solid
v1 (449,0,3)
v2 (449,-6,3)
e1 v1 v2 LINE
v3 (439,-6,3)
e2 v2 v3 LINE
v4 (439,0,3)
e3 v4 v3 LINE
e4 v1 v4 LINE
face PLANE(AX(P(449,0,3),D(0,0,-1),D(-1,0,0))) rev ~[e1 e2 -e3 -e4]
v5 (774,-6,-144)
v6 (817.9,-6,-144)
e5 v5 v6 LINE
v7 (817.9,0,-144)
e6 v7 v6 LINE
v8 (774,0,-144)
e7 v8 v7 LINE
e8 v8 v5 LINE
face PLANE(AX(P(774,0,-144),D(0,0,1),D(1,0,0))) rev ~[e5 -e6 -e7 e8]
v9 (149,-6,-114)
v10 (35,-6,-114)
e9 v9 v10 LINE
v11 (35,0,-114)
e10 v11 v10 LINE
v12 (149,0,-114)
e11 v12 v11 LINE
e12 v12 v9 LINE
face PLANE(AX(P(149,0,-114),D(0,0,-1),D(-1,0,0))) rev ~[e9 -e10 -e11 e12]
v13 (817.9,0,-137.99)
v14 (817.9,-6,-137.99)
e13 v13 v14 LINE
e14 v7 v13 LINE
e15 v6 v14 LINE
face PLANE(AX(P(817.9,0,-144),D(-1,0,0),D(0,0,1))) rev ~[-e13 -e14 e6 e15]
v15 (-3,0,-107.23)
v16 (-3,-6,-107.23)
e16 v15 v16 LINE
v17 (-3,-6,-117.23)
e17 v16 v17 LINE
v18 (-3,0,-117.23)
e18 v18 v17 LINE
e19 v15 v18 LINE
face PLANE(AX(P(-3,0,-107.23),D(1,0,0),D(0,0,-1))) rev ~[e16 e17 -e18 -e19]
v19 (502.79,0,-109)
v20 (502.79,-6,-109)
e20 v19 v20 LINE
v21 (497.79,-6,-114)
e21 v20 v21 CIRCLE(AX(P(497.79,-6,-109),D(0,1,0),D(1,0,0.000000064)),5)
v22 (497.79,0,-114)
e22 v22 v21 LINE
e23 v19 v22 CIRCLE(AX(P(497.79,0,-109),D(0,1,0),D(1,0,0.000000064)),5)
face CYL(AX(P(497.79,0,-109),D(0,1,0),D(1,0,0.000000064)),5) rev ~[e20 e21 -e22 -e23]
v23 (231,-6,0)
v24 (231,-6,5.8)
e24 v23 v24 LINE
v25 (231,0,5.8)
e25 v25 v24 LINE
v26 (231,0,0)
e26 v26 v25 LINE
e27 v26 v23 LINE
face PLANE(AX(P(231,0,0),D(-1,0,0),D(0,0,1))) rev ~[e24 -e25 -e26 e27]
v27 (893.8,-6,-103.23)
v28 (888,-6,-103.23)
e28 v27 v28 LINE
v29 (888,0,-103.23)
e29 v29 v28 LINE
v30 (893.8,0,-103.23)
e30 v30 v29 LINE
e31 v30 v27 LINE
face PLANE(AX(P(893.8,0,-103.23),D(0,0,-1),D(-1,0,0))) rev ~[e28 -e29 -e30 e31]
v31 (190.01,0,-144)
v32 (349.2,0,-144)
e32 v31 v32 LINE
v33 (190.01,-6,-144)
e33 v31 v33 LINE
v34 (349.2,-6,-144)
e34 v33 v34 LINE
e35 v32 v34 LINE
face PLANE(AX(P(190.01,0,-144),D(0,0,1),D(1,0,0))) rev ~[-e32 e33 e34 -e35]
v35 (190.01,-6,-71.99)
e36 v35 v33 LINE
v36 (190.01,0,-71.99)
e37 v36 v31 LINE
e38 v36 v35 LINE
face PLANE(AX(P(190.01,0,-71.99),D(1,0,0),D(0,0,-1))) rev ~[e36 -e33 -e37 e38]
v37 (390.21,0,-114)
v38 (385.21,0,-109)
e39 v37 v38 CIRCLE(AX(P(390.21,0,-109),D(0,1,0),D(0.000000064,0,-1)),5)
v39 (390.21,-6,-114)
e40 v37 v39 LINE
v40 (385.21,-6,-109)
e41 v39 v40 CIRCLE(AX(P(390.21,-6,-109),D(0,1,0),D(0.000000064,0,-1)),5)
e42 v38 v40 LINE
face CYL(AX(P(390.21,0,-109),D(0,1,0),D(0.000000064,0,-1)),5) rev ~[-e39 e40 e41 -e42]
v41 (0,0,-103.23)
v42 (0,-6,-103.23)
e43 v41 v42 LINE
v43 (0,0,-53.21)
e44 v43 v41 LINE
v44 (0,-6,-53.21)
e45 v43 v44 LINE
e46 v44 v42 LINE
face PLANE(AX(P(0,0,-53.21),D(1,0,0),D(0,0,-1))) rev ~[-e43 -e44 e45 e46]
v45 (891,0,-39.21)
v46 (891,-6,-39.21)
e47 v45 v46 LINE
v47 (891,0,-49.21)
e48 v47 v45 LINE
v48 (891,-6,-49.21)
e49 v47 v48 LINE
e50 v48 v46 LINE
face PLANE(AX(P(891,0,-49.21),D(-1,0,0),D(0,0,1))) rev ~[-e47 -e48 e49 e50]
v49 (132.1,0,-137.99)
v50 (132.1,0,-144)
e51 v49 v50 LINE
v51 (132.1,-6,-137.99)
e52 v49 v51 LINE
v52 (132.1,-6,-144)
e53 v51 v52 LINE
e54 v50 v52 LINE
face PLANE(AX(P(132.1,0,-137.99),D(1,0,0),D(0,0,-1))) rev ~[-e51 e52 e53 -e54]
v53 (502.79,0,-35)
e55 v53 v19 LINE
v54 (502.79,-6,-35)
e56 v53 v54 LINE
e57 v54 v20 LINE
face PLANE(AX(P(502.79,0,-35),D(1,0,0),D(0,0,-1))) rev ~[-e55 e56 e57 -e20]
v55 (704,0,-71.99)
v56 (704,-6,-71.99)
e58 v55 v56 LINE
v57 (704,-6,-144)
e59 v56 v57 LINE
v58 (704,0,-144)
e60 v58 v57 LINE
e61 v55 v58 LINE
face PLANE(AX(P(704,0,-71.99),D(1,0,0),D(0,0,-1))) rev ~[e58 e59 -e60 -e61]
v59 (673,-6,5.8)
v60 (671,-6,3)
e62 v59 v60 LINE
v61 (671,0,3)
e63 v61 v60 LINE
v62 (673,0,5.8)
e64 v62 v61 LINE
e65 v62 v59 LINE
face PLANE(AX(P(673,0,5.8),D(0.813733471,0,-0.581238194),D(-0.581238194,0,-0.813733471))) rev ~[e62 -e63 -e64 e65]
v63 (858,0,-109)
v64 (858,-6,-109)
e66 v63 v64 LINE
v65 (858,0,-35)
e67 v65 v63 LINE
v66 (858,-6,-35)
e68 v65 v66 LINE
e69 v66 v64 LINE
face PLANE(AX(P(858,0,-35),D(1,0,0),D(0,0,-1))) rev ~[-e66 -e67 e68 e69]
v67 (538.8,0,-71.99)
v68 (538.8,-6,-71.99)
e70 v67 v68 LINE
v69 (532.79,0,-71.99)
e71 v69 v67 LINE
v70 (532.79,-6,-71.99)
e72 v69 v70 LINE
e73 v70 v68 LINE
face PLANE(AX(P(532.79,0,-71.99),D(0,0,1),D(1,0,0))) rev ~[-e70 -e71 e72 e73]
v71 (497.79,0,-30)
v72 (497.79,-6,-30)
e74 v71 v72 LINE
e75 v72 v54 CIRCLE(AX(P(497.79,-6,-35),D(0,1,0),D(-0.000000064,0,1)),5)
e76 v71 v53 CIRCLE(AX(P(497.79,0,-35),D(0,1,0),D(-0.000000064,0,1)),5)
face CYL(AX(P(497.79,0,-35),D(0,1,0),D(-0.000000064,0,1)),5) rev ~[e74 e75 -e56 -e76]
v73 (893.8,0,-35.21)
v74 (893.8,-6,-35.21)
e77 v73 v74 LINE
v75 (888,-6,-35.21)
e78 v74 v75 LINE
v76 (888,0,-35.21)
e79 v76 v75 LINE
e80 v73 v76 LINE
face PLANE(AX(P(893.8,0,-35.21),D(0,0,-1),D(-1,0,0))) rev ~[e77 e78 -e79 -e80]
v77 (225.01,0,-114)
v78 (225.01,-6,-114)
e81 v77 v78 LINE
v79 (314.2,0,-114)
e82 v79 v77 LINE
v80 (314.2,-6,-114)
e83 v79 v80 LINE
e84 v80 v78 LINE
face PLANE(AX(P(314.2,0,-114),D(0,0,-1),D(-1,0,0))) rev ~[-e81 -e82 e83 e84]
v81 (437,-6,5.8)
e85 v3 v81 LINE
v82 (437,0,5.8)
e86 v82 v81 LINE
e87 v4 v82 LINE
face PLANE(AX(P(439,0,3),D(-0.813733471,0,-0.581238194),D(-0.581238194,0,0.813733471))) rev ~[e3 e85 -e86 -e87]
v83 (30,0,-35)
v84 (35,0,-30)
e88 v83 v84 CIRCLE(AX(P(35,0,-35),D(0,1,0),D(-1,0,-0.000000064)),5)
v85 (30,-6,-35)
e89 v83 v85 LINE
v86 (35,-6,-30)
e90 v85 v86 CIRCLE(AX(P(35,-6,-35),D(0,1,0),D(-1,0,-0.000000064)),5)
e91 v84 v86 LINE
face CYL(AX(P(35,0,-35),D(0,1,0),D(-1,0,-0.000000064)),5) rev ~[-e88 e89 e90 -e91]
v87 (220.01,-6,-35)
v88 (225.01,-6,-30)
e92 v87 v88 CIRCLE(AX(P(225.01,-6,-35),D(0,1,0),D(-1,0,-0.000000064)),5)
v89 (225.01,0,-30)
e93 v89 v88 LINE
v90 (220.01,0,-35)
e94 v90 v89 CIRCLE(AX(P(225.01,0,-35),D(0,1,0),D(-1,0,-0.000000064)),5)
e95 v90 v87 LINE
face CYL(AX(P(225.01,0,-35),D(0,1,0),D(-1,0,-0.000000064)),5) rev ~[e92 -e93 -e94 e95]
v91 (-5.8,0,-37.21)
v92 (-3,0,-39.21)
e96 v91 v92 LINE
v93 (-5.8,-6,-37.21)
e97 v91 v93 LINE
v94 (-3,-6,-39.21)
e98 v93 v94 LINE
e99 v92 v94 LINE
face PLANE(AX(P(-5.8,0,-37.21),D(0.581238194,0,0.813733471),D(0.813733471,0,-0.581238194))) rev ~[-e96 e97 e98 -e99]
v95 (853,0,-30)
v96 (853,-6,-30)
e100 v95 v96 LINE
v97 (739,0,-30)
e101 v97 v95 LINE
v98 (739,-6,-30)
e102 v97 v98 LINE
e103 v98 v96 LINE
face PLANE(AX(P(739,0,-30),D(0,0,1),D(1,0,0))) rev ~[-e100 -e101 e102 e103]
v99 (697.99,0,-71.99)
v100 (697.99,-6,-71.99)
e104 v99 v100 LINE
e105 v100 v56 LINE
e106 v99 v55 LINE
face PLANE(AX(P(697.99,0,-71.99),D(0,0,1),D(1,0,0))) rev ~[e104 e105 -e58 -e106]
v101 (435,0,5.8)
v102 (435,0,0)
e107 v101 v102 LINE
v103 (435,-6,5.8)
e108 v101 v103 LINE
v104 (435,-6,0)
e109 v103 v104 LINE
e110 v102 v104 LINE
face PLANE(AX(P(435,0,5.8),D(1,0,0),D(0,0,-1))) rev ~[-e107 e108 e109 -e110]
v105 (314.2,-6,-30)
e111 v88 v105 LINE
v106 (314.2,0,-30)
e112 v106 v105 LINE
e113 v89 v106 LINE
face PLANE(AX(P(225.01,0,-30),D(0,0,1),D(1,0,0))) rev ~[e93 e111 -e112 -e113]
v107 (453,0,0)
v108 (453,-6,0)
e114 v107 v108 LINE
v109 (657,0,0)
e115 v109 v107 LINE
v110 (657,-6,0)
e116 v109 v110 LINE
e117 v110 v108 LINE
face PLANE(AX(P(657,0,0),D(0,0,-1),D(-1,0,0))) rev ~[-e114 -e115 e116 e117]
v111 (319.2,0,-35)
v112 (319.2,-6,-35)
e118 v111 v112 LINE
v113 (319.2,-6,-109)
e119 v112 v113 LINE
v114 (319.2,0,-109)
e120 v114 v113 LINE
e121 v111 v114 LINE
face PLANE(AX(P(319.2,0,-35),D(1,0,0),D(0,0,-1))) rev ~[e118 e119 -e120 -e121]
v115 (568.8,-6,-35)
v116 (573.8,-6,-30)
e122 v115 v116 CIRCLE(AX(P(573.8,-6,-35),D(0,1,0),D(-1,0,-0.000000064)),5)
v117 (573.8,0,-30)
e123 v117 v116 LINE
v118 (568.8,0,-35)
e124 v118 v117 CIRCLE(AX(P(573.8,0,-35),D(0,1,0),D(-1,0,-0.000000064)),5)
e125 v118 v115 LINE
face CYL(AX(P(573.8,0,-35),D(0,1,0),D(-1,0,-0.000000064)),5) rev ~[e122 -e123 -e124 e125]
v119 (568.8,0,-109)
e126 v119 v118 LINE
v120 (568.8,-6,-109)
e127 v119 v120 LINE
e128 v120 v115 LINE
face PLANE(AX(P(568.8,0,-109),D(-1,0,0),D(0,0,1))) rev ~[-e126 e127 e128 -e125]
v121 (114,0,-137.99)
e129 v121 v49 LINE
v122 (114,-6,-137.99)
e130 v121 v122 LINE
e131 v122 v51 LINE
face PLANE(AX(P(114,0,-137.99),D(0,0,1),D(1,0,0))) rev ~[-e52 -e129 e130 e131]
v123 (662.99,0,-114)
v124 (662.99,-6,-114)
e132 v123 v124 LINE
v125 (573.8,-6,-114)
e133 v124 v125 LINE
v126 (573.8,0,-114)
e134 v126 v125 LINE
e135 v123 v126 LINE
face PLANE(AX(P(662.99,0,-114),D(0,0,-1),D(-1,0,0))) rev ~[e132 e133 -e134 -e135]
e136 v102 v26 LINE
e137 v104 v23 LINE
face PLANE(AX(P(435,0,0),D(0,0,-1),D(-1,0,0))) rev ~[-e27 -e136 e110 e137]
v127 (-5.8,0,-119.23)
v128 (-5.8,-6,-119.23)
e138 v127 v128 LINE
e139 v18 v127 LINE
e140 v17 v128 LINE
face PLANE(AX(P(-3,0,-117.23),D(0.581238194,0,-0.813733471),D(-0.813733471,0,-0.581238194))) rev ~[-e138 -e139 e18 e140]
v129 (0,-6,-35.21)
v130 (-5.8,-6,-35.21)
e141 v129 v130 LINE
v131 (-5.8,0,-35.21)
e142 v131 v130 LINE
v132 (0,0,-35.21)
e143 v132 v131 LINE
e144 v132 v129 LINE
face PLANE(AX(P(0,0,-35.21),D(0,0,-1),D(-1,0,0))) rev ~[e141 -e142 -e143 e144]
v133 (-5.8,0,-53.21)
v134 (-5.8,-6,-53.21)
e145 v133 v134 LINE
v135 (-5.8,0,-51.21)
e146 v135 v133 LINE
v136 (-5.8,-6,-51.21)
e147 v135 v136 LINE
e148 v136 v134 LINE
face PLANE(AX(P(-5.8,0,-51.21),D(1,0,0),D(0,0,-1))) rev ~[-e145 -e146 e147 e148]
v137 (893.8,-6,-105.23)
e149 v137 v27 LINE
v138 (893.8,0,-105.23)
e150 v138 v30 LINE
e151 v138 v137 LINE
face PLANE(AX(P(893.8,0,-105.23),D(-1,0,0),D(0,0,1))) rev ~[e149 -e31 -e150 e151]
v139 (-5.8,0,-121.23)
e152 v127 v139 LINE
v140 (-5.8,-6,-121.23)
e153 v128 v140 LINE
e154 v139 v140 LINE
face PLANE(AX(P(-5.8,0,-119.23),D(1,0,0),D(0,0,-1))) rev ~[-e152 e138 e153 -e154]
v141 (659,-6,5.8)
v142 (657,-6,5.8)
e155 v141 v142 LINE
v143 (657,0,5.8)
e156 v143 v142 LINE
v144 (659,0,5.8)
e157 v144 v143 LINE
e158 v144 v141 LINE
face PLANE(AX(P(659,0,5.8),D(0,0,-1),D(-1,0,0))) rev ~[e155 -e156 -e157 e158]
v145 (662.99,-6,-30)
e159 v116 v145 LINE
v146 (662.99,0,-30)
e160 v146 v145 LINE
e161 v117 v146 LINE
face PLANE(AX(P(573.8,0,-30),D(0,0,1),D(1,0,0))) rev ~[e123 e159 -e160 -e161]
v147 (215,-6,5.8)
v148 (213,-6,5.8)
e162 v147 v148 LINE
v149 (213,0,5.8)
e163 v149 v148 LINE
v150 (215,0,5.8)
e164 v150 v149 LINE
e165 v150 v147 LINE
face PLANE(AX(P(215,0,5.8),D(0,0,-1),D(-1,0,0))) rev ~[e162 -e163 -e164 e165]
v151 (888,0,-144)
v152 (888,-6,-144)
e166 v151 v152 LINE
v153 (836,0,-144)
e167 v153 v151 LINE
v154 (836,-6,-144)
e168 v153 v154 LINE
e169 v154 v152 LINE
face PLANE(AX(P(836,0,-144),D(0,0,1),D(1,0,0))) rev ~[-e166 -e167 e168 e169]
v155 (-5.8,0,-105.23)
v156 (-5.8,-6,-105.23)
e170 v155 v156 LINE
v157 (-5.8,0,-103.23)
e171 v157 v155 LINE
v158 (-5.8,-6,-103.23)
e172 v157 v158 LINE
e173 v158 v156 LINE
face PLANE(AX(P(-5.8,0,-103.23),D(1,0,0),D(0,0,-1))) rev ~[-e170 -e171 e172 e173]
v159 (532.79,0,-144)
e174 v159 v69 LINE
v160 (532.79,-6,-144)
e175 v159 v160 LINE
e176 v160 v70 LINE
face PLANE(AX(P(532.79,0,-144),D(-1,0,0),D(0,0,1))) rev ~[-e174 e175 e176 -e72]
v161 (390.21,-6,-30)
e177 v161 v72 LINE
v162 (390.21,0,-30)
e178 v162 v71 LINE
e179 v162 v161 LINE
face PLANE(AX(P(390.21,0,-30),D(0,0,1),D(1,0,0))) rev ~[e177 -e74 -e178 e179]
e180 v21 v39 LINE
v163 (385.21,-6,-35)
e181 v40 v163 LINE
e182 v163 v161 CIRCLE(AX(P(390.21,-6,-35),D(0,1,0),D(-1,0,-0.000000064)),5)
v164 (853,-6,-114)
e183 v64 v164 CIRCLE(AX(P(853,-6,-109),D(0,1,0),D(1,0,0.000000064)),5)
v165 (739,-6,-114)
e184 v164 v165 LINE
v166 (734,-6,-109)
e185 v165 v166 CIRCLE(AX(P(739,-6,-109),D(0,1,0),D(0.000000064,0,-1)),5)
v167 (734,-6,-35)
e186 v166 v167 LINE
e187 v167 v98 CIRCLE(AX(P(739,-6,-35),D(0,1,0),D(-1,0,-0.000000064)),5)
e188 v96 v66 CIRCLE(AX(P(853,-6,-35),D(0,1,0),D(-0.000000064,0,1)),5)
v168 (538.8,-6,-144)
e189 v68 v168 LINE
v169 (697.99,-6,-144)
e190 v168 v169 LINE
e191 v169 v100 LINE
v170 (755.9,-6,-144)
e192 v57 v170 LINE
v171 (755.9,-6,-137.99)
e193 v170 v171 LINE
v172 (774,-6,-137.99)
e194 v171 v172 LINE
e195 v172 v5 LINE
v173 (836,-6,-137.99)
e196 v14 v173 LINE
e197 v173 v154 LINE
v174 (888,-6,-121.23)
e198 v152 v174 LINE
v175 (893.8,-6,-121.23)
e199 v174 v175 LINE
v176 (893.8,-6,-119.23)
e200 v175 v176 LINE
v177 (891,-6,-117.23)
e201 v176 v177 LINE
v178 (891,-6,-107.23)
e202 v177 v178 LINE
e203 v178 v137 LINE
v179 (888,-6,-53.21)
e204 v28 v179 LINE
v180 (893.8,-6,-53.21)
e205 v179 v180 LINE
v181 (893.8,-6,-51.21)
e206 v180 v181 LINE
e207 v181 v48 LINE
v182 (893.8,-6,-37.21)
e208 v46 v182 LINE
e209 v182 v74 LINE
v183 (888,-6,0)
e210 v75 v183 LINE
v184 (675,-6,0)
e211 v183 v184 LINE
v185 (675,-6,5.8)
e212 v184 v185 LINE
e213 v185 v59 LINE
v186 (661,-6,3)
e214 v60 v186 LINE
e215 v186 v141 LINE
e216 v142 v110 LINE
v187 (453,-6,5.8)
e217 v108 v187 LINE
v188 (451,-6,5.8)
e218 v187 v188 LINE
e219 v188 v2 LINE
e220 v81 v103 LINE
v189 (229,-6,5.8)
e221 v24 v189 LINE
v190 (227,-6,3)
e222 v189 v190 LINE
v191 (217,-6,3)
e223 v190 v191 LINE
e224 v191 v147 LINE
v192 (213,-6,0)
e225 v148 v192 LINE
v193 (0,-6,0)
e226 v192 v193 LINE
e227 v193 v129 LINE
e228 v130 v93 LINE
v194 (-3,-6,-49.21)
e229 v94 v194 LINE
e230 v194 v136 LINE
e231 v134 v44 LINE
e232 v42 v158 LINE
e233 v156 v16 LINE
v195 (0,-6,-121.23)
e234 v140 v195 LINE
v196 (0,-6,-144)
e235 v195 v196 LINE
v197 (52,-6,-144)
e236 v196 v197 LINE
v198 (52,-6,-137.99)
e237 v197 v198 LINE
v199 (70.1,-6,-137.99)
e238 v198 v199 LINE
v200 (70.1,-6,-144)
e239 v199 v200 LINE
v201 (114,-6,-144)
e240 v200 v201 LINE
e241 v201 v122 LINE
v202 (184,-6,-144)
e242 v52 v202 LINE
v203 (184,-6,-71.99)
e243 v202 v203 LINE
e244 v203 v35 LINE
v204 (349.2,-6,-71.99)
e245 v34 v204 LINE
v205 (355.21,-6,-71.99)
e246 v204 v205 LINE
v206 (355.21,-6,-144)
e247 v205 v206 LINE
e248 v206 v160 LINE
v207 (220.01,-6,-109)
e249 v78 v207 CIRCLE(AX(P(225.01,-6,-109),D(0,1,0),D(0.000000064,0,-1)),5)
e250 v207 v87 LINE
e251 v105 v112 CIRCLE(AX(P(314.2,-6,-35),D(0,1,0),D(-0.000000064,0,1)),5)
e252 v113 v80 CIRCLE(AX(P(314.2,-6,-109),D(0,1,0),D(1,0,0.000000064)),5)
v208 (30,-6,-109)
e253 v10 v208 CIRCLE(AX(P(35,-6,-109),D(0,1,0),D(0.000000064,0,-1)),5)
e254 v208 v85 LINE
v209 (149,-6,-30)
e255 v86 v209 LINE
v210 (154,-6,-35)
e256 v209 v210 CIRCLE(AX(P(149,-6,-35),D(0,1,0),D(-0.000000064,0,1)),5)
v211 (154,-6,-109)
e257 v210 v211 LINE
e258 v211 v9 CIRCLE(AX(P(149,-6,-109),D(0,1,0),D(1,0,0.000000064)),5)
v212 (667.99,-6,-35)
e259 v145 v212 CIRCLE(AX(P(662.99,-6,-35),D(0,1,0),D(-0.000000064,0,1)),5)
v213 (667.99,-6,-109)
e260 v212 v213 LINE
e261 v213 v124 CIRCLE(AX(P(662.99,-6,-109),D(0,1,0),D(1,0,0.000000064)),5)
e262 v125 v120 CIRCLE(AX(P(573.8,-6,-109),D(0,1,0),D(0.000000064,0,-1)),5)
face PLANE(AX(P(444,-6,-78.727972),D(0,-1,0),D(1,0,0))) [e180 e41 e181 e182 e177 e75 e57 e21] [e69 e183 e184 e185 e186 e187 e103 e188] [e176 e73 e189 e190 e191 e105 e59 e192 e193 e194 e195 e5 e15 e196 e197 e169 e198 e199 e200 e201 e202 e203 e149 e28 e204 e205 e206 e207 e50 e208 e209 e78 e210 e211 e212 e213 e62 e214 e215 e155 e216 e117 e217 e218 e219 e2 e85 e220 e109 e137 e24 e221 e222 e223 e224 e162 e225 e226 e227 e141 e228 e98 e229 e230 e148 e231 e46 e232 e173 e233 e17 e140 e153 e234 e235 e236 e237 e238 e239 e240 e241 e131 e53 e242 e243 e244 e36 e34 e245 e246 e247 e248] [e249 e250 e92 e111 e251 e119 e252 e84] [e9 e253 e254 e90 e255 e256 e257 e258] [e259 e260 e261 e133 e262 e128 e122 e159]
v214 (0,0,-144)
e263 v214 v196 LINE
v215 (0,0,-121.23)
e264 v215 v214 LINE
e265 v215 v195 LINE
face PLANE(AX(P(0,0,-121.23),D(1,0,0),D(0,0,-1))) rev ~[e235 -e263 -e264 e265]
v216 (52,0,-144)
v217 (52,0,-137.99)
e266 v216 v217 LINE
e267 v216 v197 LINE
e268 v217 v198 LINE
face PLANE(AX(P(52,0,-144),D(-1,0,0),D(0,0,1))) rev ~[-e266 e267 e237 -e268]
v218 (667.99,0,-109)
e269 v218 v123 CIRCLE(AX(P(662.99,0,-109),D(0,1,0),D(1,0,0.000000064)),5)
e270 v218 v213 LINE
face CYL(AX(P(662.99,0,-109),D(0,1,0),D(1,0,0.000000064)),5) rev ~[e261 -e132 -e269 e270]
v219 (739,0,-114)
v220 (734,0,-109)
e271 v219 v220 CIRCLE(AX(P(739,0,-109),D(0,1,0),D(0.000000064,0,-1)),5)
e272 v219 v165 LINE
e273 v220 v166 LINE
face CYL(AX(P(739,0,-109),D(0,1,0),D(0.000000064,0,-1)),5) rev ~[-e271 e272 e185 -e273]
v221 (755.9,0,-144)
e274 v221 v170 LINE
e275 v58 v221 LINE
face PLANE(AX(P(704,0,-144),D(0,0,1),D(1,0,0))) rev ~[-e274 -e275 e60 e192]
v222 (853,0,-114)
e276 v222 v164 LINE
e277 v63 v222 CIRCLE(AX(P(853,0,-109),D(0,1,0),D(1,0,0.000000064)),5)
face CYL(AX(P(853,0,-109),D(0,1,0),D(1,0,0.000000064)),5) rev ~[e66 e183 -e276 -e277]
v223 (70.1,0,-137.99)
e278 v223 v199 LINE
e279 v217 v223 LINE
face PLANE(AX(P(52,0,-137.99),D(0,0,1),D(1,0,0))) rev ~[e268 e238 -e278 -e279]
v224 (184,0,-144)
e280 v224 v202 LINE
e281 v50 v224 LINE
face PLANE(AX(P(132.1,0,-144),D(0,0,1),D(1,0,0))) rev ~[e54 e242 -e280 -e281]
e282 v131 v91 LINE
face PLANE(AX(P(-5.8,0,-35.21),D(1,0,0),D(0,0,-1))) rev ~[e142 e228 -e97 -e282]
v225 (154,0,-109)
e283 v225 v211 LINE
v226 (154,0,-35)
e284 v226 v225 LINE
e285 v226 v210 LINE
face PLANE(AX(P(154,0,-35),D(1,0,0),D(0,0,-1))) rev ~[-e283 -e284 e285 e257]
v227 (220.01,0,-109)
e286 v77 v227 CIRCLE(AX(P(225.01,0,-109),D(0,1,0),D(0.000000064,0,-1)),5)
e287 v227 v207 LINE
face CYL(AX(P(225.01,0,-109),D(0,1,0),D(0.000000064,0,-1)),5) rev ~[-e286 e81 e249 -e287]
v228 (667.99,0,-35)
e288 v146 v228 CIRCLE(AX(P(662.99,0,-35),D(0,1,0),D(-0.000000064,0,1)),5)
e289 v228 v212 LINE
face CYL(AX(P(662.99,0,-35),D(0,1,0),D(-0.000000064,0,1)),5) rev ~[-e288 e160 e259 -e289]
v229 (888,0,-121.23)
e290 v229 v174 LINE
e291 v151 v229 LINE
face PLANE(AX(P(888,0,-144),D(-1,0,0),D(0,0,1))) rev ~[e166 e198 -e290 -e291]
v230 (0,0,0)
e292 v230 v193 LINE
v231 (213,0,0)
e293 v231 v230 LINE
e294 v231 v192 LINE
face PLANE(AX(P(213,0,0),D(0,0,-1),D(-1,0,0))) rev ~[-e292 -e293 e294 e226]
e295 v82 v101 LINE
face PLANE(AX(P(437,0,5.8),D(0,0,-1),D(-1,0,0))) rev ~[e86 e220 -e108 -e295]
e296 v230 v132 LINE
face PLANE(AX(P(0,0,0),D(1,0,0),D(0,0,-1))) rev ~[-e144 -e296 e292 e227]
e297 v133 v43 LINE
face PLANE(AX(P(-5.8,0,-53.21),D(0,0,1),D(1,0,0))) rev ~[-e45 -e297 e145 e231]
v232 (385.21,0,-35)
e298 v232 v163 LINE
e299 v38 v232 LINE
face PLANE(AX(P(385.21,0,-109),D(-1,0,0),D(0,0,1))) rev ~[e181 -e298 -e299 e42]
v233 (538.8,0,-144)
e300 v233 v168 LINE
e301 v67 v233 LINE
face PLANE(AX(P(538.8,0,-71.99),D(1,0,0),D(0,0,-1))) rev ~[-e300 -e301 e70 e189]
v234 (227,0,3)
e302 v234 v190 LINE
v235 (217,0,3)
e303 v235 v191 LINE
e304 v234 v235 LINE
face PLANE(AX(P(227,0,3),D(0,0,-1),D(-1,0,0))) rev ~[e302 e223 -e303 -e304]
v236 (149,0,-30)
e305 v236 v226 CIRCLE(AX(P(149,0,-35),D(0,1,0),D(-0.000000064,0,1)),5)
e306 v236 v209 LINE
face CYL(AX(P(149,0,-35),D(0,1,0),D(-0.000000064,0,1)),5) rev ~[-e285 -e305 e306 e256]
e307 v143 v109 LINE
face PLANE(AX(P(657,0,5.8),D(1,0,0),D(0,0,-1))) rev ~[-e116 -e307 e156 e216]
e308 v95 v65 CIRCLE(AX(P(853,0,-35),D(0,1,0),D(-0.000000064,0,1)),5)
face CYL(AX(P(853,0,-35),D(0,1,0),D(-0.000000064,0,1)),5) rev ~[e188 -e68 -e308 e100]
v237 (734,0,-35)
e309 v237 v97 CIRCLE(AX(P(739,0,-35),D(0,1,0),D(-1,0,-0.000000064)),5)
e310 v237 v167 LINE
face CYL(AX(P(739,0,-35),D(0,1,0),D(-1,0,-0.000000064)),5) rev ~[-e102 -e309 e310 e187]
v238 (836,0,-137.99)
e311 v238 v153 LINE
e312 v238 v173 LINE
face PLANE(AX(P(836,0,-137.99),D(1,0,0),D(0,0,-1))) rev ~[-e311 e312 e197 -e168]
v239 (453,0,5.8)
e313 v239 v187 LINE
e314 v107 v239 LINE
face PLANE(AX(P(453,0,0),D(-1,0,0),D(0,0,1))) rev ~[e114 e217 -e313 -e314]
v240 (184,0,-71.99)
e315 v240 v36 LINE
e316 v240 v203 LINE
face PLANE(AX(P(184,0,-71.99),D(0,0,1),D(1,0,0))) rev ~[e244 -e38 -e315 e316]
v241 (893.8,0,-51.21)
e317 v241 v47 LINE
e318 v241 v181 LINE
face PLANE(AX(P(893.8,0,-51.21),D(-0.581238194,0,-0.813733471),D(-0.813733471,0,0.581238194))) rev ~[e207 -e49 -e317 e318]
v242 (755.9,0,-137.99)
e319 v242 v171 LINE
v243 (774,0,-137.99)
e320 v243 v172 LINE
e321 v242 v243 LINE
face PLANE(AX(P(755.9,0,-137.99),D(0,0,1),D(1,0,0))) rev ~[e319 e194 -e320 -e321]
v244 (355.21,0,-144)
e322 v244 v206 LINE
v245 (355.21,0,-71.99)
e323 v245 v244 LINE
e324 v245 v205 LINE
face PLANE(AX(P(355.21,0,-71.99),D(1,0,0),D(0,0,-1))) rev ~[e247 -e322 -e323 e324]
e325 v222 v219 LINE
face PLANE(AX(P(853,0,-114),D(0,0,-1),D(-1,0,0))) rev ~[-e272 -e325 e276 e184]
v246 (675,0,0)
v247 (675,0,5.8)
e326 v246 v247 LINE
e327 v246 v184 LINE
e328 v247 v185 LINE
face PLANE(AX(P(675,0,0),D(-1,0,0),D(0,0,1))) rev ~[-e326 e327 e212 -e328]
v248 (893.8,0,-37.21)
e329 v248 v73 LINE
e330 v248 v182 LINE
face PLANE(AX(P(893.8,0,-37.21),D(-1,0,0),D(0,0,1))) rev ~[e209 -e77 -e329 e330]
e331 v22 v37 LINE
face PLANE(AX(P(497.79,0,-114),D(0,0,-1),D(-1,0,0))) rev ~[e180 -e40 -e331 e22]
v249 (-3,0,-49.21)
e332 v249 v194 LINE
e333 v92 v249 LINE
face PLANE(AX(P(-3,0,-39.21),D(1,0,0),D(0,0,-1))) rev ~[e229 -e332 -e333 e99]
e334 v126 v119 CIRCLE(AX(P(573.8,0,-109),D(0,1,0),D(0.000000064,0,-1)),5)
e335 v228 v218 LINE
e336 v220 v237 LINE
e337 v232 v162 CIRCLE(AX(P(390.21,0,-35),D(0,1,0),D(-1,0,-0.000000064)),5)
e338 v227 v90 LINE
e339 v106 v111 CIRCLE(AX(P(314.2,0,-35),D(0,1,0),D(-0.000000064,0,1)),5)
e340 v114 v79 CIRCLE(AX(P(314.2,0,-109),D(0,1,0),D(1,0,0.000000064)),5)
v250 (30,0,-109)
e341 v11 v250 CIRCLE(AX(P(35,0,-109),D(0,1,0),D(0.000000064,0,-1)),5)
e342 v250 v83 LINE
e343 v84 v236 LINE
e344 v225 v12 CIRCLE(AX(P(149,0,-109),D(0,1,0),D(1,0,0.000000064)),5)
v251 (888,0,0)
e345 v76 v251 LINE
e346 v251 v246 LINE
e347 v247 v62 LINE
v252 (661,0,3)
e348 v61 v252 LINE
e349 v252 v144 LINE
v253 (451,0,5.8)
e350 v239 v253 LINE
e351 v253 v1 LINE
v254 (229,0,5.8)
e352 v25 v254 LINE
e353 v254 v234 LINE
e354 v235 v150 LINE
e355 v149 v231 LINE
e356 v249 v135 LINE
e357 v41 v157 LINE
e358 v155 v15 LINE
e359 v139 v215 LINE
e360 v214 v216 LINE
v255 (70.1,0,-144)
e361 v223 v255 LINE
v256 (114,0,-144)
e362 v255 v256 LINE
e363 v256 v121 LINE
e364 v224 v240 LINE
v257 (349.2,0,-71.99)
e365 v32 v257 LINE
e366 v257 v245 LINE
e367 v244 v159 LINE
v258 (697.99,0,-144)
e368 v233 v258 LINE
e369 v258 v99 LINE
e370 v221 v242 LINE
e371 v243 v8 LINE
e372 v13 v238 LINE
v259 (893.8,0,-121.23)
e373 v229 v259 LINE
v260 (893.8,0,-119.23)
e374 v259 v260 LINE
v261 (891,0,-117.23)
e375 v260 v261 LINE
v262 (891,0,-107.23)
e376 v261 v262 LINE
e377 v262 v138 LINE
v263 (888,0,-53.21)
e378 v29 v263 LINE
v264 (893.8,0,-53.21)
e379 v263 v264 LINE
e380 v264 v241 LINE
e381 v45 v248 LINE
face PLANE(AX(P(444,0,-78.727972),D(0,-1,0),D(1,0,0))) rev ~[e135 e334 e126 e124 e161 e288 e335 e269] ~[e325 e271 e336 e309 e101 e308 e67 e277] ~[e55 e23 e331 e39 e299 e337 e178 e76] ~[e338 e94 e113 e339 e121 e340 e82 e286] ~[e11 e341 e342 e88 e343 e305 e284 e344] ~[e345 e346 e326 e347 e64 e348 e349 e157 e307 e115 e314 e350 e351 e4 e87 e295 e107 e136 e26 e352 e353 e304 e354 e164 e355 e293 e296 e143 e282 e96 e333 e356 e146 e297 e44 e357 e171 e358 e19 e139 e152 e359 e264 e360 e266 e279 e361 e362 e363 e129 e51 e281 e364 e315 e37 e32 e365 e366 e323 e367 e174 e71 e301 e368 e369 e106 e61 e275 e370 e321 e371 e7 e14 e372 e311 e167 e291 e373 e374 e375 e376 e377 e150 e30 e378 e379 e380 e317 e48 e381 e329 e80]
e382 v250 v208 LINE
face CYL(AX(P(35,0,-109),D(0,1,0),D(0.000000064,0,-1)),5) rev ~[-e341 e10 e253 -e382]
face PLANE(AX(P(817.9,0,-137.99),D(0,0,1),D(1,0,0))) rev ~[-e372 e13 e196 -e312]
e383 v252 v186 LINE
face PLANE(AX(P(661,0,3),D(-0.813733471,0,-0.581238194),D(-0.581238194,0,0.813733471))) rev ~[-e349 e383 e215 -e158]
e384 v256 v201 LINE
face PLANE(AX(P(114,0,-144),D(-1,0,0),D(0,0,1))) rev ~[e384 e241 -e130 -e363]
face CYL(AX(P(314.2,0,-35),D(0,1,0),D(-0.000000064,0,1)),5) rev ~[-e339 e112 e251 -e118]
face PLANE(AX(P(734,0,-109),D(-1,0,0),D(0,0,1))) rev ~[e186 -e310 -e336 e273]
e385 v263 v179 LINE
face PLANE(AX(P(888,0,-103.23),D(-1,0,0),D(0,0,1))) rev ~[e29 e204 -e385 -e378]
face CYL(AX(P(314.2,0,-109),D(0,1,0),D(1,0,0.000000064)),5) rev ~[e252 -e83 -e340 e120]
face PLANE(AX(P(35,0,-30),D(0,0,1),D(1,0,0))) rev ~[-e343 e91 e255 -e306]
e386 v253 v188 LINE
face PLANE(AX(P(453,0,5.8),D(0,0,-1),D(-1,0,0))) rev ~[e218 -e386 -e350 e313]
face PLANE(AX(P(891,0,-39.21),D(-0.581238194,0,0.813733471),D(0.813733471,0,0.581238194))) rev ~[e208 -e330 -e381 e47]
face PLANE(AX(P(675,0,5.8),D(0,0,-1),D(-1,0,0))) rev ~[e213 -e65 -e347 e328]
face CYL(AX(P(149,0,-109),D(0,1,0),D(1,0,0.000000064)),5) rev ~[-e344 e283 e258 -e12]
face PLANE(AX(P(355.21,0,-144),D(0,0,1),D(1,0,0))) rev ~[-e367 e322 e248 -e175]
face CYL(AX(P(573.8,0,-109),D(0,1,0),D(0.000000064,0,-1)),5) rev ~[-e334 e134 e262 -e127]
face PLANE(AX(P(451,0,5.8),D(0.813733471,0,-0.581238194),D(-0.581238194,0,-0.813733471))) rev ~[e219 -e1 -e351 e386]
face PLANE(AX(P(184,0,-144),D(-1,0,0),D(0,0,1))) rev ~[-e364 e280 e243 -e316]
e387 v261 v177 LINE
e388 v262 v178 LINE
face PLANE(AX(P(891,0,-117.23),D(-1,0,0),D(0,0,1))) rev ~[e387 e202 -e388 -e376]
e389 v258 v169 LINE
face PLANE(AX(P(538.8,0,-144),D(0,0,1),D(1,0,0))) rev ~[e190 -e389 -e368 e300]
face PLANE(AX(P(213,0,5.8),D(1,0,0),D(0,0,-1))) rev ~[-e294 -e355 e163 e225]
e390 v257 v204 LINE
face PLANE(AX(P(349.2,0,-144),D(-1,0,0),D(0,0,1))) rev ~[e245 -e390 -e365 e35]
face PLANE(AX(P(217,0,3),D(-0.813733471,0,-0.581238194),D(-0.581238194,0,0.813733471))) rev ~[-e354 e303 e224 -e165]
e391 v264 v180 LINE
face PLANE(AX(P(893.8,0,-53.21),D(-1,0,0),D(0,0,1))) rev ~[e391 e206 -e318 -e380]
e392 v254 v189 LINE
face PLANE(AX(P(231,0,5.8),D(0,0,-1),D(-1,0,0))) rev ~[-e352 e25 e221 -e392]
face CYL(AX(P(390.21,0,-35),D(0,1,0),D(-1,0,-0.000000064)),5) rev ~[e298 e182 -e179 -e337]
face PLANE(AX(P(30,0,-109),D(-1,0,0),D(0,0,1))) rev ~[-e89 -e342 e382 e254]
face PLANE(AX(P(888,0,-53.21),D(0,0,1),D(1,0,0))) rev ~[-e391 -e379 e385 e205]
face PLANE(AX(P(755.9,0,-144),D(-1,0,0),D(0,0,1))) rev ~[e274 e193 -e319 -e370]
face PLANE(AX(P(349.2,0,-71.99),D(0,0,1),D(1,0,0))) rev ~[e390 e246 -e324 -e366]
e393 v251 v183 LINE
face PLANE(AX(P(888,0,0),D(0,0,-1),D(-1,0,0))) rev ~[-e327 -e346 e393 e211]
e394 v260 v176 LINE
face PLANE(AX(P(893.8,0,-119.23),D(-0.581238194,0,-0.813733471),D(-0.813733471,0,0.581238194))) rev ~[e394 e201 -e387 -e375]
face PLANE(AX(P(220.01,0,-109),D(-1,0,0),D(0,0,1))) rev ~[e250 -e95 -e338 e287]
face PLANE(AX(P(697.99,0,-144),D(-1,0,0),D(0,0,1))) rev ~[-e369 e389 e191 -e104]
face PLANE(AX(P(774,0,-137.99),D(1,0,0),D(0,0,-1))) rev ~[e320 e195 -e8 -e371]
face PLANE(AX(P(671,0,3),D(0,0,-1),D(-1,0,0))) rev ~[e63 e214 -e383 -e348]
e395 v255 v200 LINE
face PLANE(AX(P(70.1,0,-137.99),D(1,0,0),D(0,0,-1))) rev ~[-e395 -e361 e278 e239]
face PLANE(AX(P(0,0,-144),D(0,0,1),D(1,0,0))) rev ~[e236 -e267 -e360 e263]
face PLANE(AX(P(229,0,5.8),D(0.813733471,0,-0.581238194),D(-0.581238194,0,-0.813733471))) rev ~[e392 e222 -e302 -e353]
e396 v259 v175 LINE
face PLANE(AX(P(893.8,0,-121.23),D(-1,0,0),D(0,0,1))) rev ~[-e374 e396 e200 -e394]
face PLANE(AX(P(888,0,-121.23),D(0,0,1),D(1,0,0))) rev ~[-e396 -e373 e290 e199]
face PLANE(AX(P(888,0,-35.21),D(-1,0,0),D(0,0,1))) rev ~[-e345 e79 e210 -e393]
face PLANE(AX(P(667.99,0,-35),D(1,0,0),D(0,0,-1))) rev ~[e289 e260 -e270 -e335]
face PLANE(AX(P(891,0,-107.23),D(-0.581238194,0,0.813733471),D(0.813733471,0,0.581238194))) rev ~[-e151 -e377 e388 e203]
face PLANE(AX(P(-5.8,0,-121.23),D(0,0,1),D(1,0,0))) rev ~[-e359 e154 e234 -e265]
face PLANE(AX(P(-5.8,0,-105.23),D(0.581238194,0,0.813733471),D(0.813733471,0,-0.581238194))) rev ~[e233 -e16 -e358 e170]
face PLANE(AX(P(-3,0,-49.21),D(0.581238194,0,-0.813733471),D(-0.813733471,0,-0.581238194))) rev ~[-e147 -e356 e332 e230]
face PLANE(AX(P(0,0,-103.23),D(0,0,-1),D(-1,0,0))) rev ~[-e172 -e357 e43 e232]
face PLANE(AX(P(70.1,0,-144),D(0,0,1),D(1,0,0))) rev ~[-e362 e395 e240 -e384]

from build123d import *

# Parameters (mm, degrees)
F1_DEPTH = 6


with BuildPart() as f1:
    # F0 (on Front) → F1 (new body)
    with BuildSketch(Plane.XZ):
        Polygon((0, -121.23), (0, -144), (52, -144), (52, -137.99), (70.1, -137.99), (70.1, -144), (114, -144), (114, -137.99), (132.1, -137.99), (132.1, -144), (184, -144), (184, -71.99), (190.01, -71.99), (190.01, -144), (349.2, -144), (349.2, -71.99), (355.21, -71.99), (355.21, -144), (532.79, -144), (532.79, -71.99), (538.8, -71.99), (538.8, -144), (697.99, -144), (697.99, -71.99), (704, -71.99), (704, -144), (755.9, -144), (755.9, -137.99), (774, -137.99), (774, -144), (817.9, -144), (817.9, -137.99), (836, -137.99), (836, -144), (888, -144), (888, -121.23), (893.8, -121.23), (893.8, -119.23), (891, -117.23), (891, -107.23), (893.8, -105.23), (893.8, -103.23), (888, -103.23), (888, -53.21), (893.8, -53.21), (893.8, -51.21), (891, -49.21), (891, -39.21), (893.8, -37.21), (893.8, -35.21), (888, -35.21), (888, 0), (675, 0), (675, 5.8), (673, 5.8), (671, 3), (661, 3), (659, 5.8), (657, 5.8), (657, 0), (453, 0), (453, 5.8), (451, 5.8), (449, 3), (439, 3), (437, 5.8), (435, 5.8), (435, 0), (231, 0), (231, 5.8), (229, 5.8), (227, 3), (217, 3), (215, 5.8), (213, 5.8), (213, 0), (0, 0), (0, -35.21), (-5.8, -35.21), (-5.8, -37.21), (-3, -39.21), (-3, -49.21), (-5.8, -51.21), (-5.8, -53.21), (0, -53.21), (0, -103.23), (-5.8, -103.23), (-5.8, -105.23), (-3, -107.23), (-3, -117.23), (-5.8, -119.23), (-5.8, -121.23), align=None)
        with BuildLine():
            ThreePointArc((30, -35), (31.464466, -31.464466), (35, -30))
            Line((35, -30), (149, -30))
            ThreePointArc((149, -30), (152.535534, -31.464466), (154, -35))
            Line((154, -35), (154, -109))
            ThreePointArc((154, -109), (152.535534, -112.535534), (149, -114))
            Line((149, -114), (35, -114))
            ThreePointArc((35, -114), (31.464466, -112.535534), (30, -109))
            Line((30, -109), (30, -35))
        make_face(mode=Mode.SUBTRACT)
        with BuildLine():
            Line((220.01, -109), (220.01, -35))
            ThreePointArc((220.01, -35), (221.474466, -31.464466), (225.01, -30))
            Line((225.01, -30), (314.2, -30))
            ThreePointArc((314.2, -30), (317.735534, -31.464466), (319.2, -35))
            Line((319.2, -35), (319.2, -109))
            ThreePointArc((319.2, -109), (317.735534, -112.535534), (314.2, -114))
            Line((314.2, -114), (225.01, -114))
            ThreePointArc((225.01, -114), (221.474466, -112.535534), (220.01, -109))
        make_face(mode=Mode.SUBTRACT)
        with BuildLine():
            Line((385.21, -109), (385.21, -35))
            ThreePointArc((385.21, -35), (386.674466, -31.464466), (390.21, -30))
            Line((390.21, -30), (497.79, -30))
            ThreePointArc((497.79, -30), (501.325534, -31.464466), (502.79, -35))
            Line((502.79, -35), (502.79, -109))
            ThreePointArc((502.79, -109), (501.325534, -112.535534), (497.79, -114))
            Line((497.79, -114), (390.21, -114))
            ThreePointArc((390.21, -114), (386.674466, -112.535534), (385.21, -109))
        make_face(mode=Mode.SUBTRACT)
        with BuildLine():
            Line((568.8, -109), (568.8, -35))
            ThreePointArc((568.8, -35), (570.264466, -31.464466), (573.8, -30))
            Line((573.8, -30), (662.99, -30))
            ThreePointArc((662.99, -30), (666.525534, -31.464466), (667.99, -35))
            Line((667.99, -35), (667.99, -109))
            ThreePointArc((667.99, -109), (666.525534, -112.535534), (662.99, -114))
            Line((662.99, -114), (573.8, -114))
            ThreePointArc((573.8, -114), (570.264466, -112.535534), (568.8, -109))
        make_face(mode=Mode.SUBTRACT)
        with BuildLine():
            Line((734, -109), (734, -35))
            ThreePointArc((734, -35), (735.464466, -31.464466), (739, -30))
            Line((739, -30), (853, -30))
            ThreePointArc((853, -30), (856.535534, -31.464466), (858, -35))
            Line((858, -35), (858, -109))
            ThreePointArc((858, -109), (856.535534, -112.535534), (853, -114))
            Line((853, -114), (739, -114))
            ThreePointArc((739, -114), (735.464466, -112.535534), (734, -109))
        make_face(mode=Mode.SUBTRACT)
    extrude(amount=F1_DEPTH)


solid = f1.part
